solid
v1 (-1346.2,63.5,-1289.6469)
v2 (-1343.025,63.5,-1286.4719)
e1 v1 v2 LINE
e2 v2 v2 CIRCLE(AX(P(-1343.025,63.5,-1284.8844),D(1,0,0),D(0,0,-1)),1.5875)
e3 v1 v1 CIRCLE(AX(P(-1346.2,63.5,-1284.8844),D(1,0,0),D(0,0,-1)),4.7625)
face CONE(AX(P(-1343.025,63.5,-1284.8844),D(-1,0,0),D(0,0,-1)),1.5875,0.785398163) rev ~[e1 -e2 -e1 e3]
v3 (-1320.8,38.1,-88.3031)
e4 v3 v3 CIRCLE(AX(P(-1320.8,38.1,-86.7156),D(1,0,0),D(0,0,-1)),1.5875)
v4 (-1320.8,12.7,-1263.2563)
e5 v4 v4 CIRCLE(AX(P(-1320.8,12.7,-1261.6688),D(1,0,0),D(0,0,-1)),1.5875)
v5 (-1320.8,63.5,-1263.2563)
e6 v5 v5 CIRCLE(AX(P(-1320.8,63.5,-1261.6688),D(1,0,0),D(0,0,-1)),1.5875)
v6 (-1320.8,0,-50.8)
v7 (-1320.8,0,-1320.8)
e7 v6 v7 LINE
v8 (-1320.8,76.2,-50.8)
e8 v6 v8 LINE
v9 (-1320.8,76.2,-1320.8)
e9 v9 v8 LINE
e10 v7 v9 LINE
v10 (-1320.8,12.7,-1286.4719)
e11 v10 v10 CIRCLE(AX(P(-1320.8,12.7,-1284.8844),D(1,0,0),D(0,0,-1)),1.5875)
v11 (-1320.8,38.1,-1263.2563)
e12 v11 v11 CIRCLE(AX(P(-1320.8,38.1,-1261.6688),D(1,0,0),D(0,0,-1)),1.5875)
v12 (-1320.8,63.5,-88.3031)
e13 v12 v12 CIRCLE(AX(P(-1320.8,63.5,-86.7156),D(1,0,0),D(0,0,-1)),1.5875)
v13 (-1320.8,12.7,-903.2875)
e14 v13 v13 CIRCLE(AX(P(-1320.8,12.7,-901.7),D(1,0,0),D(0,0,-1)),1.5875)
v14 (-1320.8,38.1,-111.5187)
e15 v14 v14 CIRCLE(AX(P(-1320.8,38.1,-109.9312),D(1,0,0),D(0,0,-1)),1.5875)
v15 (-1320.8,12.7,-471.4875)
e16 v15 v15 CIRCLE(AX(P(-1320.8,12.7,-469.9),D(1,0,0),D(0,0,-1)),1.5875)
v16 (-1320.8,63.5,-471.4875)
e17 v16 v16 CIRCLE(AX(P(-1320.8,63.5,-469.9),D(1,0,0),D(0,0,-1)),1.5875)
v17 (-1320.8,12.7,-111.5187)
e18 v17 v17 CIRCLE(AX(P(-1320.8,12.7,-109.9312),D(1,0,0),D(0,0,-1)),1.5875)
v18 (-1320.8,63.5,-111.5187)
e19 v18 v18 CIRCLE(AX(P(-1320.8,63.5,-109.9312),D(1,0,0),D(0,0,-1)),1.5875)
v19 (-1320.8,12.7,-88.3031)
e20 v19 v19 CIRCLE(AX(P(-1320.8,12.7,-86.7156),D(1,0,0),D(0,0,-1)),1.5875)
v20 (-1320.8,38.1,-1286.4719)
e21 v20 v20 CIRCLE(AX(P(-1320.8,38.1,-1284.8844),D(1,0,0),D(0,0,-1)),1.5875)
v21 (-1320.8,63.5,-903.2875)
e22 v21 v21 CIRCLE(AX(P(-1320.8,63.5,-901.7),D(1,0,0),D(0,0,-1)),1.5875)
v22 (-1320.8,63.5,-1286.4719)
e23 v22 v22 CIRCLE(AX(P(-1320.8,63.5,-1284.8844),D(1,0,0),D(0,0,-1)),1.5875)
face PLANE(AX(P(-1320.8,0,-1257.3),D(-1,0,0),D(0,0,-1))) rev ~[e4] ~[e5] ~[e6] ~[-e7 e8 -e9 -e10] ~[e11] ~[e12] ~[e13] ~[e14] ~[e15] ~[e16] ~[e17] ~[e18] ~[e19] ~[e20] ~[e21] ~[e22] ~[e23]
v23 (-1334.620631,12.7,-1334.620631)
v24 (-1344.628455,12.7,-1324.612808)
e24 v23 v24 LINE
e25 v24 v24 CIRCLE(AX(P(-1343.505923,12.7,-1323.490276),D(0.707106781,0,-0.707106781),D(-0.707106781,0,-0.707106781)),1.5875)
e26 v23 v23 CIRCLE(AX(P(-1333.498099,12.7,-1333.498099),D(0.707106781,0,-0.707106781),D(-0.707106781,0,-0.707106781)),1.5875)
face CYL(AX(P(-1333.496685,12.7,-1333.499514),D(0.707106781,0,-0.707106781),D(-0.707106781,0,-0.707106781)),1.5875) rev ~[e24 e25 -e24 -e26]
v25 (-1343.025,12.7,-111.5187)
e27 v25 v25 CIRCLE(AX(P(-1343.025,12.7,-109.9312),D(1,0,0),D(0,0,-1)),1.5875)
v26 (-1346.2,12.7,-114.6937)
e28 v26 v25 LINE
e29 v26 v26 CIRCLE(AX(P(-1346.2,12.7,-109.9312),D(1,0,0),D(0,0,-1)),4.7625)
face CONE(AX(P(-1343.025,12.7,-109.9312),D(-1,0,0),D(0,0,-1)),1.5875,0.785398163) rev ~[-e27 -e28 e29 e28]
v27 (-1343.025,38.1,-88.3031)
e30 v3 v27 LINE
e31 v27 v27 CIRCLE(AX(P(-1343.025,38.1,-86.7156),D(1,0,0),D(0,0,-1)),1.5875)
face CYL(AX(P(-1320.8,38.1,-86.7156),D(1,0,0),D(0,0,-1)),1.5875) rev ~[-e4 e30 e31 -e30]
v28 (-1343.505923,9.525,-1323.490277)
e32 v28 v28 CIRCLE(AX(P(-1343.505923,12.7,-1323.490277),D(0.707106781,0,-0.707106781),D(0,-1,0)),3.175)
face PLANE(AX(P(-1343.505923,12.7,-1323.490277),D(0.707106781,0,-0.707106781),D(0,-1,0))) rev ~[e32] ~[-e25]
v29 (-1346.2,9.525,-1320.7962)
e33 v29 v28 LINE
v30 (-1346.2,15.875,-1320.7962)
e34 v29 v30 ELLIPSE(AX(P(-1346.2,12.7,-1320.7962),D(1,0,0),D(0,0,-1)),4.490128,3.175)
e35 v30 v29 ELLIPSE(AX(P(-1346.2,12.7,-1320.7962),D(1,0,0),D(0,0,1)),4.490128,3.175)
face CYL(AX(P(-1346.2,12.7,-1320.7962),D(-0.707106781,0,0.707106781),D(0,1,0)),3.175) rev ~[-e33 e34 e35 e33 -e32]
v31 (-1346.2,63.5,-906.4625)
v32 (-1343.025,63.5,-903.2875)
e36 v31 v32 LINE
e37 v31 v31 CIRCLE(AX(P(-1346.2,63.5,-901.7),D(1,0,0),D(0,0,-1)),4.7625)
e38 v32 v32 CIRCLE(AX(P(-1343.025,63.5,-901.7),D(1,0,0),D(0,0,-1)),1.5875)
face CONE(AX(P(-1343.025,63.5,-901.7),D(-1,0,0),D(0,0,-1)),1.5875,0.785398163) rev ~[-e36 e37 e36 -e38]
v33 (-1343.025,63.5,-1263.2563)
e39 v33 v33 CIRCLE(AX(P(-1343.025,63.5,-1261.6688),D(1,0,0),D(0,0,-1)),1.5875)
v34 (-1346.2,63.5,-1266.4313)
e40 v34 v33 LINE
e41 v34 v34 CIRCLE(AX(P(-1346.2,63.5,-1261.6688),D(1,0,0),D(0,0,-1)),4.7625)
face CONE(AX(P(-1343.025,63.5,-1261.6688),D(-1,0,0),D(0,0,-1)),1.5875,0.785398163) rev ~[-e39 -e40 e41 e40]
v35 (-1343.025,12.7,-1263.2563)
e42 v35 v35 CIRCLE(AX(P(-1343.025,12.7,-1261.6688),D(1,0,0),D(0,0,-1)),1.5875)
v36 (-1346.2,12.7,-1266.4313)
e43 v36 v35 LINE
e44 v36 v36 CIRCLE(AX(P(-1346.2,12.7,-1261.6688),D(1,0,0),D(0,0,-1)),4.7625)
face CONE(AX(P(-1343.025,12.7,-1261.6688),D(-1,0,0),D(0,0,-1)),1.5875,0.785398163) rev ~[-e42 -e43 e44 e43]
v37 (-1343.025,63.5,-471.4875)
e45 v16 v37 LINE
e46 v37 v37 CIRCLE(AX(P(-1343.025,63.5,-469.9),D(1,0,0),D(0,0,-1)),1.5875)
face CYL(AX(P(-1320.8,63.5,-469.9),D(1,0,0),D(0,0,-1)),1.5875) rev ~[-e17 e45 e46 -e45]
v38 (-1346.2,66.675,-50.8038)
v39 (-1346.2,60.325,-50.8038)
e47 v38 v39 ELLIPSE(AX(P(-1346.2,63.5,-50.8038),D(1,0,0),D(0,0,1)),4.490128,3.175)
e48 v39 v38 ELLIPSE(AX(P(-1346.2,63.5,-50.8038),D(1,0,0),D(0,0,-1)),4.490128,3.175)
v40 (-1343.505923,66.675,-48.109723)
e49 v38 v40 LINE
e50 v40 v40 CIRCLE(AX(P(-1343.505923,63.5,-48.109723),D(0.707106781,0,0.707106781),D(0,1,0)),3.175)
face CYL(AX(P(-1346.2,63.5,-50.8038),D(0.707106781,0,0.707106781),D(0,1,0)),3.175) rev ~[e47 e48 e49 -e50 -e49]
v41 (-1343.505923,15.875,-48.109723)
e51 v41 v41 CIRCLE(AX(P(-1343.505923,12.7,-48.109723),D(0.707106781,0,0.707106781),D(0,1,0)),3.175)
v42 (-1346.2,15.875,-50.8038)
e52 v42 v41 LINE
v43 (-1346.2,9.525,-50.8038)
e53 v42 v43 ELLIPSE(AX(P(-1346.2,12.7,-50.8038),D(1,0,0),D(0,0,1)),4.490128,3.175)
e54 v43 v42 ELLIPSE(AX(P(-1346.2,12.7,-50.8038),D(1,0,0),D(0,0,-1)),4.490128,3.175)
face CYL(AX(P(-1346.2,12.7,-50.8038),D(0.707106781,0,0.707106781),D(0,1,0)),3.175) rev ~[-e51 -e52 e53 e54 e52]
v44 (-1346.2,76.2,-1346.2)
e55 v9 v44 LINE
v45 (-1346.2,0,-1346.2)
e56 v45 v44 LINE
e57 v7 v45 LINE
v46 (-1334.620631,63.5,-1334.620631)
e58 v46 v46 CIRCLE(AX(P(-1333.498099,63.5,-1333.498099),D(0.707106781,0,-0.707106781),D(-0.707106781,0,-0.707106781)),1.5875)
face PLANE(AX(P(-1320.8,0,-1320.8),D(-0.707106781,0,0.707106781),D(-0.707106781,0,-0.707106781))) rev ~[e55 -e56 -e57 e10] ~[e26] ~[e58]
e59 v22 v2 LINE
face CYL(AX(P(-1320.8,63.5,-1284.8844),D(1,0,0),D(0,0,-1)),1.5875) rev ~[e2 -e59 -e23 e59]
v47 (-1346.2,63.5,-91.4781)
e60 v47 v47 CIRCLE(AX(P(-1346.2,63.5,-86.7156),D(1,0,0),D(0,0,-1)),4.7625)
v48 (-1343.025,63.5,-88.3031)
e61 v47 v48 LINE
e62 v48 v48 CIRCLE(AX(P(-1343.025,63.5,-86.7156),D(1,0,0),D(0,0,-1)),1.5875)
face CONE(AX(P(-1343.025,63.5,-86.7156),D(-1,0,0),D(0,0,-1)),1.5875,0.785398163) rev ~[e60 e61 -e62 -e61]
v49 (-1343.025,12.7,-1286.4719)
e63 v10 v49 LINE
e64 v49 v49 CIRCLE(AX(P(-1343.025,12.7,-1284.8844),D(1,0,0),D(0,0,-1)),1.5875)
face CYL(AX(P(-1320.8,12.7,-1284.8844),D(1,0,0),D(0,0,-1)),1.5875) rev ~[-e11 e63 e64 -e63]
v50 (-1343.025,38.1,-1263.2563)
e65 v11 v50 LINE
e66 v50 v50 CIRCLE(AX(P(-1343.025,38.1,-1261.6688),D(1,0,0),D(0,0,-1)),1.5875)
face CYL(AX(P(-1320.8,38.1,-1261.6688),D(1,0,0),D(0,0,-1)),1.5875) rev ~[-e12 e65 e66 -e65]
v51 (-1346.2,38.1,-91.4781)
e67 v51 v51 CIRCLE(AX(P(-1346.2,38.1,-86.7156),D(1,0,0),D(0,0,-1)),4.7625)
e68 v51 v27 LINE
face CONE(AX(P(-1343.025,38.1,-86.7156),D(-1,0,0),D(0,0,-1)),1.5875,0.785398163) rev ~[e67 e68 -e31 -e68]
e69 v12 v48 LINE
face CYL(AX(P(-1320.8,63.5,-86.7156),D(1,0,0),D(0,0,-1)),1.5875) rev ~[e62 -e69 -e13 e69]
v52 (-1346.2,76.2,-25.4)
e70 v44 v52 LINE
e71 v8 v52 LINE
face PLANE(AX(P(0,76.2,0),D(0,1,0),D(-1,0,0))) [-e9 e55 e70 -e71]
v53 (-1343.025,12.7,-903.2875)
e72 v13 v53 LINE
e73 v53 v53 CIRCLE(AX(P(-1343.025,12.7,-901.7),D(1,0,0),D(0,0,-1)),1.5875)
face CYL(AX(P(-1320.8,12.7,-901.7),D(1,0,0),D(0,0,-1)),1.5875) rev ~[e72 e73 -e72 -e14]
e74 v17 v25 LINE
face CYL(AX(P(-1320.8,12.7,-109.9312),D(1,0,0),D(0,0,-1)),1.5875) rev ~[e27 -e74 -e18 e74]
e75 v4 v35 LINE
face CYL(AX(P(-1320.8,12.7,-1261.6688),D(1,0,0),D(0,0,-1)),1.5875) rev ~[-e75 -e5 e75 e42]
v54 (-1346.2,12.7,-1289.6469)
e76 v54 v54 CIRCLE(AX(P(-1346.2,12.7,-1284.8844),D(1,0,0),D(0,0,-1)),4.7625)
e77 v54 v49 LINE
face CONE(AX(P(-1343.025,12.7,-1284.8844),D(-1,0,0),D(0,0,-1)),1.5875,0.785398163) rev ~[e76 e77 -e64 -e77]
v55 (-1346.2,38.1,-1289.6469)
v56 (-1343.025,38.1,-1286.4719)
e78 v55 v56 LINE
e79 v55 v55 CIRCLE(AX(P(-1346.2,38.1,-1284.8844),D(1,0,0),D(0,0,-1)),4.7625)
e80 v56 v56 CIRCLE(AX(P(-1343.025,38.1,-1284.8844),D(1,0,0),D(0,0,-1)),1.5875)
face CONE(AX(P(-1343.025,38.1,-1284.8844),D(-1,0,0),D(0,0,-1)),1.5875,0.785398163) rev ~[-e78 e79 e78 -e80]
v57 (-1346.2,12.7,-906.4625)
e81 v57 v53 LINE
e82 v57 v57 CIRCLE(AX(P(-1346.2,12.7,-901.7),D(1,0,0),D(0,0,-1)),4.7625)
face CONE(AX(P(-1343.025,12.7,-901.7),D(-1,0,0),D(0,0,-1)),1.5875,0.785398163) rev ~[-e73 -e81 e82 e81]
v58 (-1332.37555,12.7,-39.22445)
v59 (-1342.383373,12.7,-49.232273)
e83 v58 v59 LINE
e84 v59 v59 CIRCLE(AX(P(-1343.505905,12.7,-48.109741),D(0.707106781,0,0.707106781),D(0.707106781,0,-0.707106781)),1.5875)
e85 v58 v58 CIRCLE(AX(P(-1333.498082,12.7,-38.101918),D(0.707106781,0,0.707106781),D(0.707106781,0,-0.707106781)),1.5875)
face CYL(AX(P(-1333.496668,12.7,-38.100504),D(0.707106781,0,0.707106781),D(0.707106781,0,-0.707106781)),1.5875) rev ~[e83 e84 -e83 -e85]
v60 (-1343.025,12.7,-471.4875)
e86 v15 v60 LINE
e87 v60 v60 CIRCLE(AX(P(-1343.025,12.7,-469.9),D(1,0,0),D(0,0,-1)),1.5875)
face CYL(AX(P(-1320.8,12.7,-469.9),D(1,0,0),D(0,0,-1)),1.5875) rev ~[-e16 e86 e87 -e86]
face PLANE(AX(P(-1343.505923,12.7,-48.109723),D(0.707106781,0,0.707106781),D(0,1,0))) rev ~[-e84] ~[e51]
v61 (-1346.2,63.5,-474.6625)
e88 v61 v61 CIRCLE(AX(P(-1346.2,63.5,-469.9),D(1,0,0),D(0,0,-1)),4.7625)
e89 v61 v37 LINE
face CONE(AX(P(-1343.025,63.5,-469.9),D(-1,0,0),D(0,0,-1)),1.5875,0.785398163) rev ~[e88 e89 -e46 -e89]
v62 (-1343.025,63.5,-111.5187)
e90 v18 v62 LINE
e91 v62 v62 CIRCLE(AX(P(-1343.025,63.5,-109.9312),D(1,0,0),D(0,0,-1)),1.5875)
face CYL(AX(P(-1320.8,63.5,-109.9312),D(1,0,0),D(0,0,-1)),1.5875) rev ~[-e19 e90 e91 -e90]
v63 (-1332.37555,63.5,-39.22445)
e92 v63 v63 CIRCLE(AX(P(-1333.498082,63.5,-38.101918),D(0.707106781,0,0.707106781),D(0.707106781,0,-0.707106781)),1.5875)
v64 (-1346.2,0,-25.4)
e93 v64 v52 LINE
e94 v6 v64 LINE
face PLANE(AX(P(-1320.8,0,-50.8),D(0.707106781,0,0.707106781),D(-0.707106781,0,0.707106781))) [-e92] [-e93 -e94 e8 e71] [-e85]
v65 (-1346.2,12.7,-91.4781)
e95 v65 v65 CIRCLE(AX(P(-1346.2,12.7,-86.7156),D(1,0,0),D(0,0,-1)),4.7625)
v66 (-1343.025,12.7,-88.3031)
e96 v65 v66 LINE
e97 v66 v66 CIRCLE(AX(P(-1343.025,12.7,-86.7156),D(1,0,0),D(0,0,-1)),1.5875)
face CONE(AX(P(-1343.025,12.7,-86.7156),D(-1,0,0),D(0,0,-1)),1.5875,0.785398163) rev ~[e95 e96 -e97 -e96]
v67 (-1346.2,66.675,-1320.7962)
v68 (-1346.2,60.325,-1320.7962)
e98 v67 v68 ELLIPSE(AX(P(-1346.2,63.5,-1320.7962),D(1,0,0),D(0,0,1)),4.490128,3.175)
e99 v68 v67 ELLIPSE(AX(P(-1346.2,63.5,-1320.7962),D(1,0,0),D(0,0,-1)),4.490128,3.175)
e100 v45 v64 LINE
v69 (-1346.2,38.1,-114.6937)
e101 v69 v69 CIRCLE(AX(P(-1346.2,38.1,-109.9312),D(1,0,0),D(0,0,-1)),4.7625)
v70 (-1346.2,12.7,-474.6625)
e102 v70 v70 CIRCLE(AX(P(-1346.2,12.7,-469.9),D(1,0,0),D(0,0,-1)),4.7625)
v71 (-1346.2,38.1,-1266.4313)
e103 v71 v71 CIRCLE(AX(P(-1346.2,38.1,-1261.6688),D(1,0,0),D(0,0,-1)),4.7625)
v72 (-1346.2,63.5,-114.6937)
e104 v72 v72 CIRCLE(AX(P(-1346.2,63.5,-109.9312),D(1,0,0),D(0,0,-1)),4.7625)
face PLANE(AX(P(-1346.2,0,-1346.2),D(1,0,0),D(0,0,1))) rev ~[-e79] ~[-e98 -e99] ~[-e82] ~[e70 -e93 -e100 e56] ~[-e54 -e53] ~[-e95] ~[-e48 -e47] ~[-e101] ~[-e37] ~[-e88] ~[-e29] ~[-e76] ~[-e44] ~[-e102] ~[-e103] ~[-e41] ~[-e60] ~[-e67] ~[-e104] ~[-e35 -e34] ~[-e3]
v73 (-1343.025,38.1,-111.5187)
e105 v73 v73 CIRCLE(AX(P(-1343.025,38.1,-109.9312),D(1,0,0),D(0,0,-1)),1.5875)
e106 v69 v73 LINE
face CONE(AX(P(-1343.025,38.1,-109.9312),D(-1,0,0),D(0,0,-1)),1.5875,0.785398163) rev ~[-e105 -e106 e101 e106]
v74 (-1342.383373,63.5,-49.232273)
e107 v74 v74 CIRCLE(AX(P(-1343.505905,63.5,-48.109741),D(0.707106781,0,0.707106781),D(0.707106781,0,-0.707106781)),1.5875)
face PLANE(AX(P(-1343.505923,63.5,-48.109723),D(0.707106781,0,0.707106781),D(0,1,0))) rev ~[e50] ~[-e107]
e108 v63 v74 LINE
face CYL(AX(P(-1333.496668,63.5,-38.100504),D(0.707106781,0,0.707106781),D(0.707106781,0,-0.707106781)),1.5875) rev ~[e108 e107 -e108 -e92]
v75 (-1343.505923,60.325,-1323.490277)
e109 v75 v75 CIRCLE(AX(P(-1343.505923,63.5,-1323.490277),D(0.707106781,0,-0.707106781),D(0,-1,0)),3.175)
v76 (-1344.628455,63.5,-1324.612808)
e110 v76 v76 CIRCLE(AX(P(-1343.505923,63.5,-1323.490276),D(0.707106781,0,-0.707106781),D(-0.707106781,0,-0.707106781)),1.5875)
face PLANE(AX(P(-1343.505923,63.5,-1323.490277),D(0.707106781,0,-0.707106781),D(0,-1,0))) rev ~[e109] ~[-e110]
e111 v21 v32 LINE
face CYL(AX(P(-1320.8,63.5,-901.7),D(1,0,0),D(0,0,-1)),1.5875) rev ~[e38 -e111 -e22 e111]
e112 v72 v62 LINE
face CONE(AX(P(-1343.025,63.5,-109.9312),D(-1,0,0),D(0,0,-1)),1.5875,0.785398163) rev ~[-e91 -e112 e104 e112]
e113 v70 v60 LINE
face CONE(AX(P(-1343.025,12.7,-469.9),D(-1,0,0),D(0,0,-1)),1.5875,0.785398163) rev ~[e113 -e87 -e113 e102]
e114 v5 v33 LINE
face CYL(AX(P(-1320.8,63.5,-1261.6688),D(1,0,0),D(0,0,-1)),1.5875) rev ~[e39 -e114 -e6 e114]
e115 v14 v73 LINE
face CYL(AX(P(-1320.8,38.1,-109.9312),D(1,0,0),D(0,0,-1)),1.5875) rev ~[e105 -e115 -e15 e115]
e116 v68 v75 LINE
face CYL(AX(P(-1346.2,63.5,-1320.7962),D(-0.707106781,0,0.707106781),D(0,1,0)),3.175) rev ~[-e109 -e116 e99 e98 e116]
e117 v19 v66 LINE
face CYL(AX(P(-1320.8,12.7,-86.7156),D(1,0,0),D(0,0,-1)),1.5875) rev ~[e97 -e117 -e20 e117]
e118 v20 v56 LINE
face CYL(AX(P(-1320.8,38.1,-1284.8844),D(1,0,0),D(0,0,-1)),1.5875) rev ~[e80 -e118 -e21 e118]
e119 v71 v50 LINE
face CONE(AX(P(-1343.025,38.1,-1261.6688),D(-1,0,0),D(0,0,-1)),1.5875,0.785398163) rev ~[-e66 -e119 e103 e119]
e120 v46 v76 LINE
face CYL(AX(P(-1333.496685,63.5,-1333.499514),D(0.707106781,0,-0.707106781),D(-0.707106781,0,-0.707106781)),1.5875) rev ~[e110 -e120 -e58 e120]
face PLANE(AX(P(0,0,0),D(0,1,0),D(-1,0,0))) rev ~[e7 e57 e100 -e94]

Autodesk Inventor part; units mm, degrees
ref_plane "YZ Plane" through (0, 0, 0) normal (1, 0, 0) x (0, 1, 0)
ref_plane "XZ Plane" through (0, 0, 0) normal (0, 1, 0) x (-1, 0, 0)
ref_plane "XY Plane" through (0, 0, 0) normal (0, 0, 1) x (1, 0, 0)
sketch "Sketch1" plane through (0, 0, 0) normal (0, 1, 0) x (-1, 0, 0)
  line L0 (6.35, 0) -> (1365.25, 0)
  line L1 (1371.6, -6.35) -> (1371.6, -1365.25)
  line L2 (1365.25, -1371.6) -> (6.35, -1371.6)
  line L3 (0, -1365.25) -> (0, -6.35)
  line L4 (1346.2, -1346.2) -> (1346.2, -25.4)
  line L5 (1346.2, -25.4) -> (25.4, -25.4)
  line L6 (25.4, -25.4) -> (25.4, -1346.2)
  line L7 (25.4, -1346.2) -> (1346.2, -1346.2)
  line L8 (1320.8, -50.8) -> (1320.8, -1320.8)
  line L9 (1320.8, -1320.8) -> (50.8, -1320.8)
  line L10 (50.8, -1320.8) -> (50.8, -50.8)
  line L11 (50.8, -50.8) -> (1320.8, -50.8)
  line L12 (1320.8, -50.8) -> (1346.2, -25.4)
  line L13 (1320.8, -1320.8) -> (1346.2, -1346.2)
  line L14 (50.8, -1320.8) -> (25.4, -1346.2)
  line L15 (50.8, -50.8) -> (25.4, -25.4)
  line L16 (1219.2, -482.6) -> (1016, -482.6)
  line L17 (1016, -482.6) -> (1016, -889)
  line L18 (1016, -889) -> (1219.2, -889)
  line L19 (1219.2, -889) -> (1219.2, -482.6)
  line L20 (355.6, -482.6) -> (152.4, -482.6)
  line L21 (152.4, -482.6) -> (152.4, -889)
  line L22 (152.4, -889) -> (355.6, -889)
  line L23 (355.6, -889) -> (355.6, -482.6)
  line L24 (889, -1016) -> (482.6, -1016)
  line L25 (482.6, -1016) -> (482.6, -1219.2)
  line L26 (482.6, -1219.2) -> (889, -1219.2)
  line L27 (889, -1219.2) -> (889, -1016)
  line L28 (889, -152.4) -> (482.6, -152.4)
  line L29 (482.6, -152.4) -> (482.6, -355.6)
  line L30 (482.6, -355.6) -> (889, -355.6)
  line L31 (889, -355.6) -> (889, -152.4)
  circle A0 centre (685.8, -685.8) radius 254
  line L32 (889, -127) -> (482.6, -127)
  line L33 (457.2, -127) -> (457.2, -381)
  line L34 (457.2, -381) -> (914.4, -381)
  line L35 (914.4, -381) -> (914.4, -127)
  line L36 (1244.6, -457.2) -> (990.6, -457.2)
  line L37 (990.6, -457.2) -> (990.6, -914.4)
  line L38 (990.6, -914.4) -> (1244.6, -914.4)
  line L39 (1244.6, -889) -> (1244.6, -482.6)
  line L40 (914.4, -990.6) -> (457.2, -990.6)
  line L41 (457.2, -990.6) -> (457.2, -1244.6)
  line L42 (482.6, -1244.6) -> (889, -1244.6)
  line L43 (914.4, -1244.6) -> (914.4, -990.6)
  line L44 (381, -457.2) -> (127, -457.2)
  line L45 (127, -482.6) -> (127, -889)
  line L46 (127, -914.4) -> (381, -914.4)
  line L47 (381, -914.4) -> (381, -457.2)
  line L48 (152.4, -482.6) -> (50.8, -482.6)
  line L49 (127, -457.2) -> (50.8, -457.2)
  line L50 (152.4, -889) -> (50.8, -889)
  line L51 (127, -914.4) -> (50.8, -914.4)
  line L52 (355.6, -889) -> (381, -889)
  line L53 (355.6, -482.6) -> (381, -482.6)
  line L54 (457.2, -1244.6) -> (457.2, -1320.8)
  line L55 (482.6, -1219.2) -> (482.6, -1320.8)
  line L56 (889, -1219.2) -> (889, -1320.8)
  line L57 (914.4, -1244.6) -> (914.4, -1320.8)
  line L58 (1244.6, -914.4) -> (1320.8, -914.4)
  line L59 (1219.2, -889) -> (1320.8, -889)
  line L60 (1219.2, -482.6) -> (1320.8, -482.6)
  line L61 (1244.6, -457.2) -> (1320.8, -457.2)
  line L62 (889, -152.4) -> (889, -50.8)
  line L63 (914.4, -127) -> (914.4, -50.8)
  line L64 (482.6, -152.4) -> (482.6, -50.8)
  line L65 (457.2, -127) -> (457.2, -50.8)
  line L66 (889, -1016) -> (889, -990.6)
  line L67 (482.6, -1016) -> (482.6, -990.6)
  line L68 (1016, -889) -> (990.6, -889)
  line L69 (1016, -482.6) -> (990.6, -482.6)
  line L70 (889, -355.6) -> (889, -381)
  line L71 (482.6, -355.6) -> (482.6, -381)
  line L72 (914.4, -381) -> (990.6, -457.2)
  line L73 (990.6, -482.6) -> (889, -381)
  line L74 (990.6, -914.4) -> (914.4, -990.6)
  line L75 (889, -990.6) -> (990.6, -889)
  line L76 (381, -914.4) -> (457.2, -990.6)
  line L77 (482.6, -990.6) -> (381, -889)
  line L78 (457.2, -381) -> (381, -457.2)
  line L79 (482.6, -381) -> (381, -482.6)
  line L80 (1257.3, -50.8) -> (1320.8, -114.3)
  line L81 (1320.8, -1257.3) -> (1257.3, -1320.8)
  line L82 (50.8, -1257.3) -> (114.3, -1320.8)
  line L83 (50.8, -114.3) -> (114.3, -50.8)
  line L84 (68.7605, -132.2605) -> (132.2605, -68.7605)
  line L85 (68.7605, -1239.3395) -> (132.2605, -1302.8395)
  line L86 (1302.8395, -1239.3395) -> (1239.3395, -1302.8395)
  line L87 (1239.3395, -68.7605) -> (1302.8395, -132.2605)
  line L88 (1302.8395, -132.2605) -> (1320.8, -150.221)
  line L89 (1239.3395, -68.7605) -> (1221.379, -50.8)
  line L90 (1302.8395, -1239.3395) -> (1320.8, -1221.379)
  line L91 (1239.3395, -1302.8395) -> (1221.379, -1320.8)
  line L92 (132.2605, -1302.8395) -> (150.221, -1320.8)
  line L93 (68.7605, -1239.3395) -> (50.8, -1221.379)
  line L94 (132.2605, -68.7605) -> (150.221, -50.8)
  line L95 (68.7605, -132.2605) -> (50.8, -150.221)
  line L96 (1365.25, 0) -> (1371.6, -6.35)
  line L97 (1371.6, -1365.25) -> (1365.25, -1371.6)
  line L98 (6.35, -1371.6) -> (0, -1365.25)
  line L99 (6.35, 0) -> (0, -6.35)
  point P0 (0, 0)
  point P1 (1371.6, -1371.6)
  point P2 (1371.6, 0)
  point P3 (0, -1371.6)
  dimension "d0" = 1371.6
  dimension "d1" = 1371.6
  dimension "d2" = 25.4
  dimension "d3" = 25.4
  dimension "d4" = 203.2
  dimension "d5" = 406.4
  dimension "d6" = 203.2
  dimension "d7" = 406.4
  dimension "d8" = 406.4
  dimension "d9" = 203.2
  dimension "d10" = 406.4
  dimension "d11" = 203.2
  dimension "d12" = 101.6
  dimension "d13" = 101.6
  dimension "d14" = 101.6
  dimension "d15" = 101.6
  dimension "d16" = 431.8
  dimension "d17" = 431.8
  dimension "d18" = 431.8
  dimension "d19" = 431.8
  dimension "d20" = 508
  dimension "d21" = 25.4
  dimension "d22" = 25.4
  dimension "d23" = 25.4
  dimension "d24" = 25.4
  dimension "d25" = 45
  dimension "d26" = 63.5
  dimension "d27" = 45
  dimension "d28" = 45
  dimension "d29" = 45
  dimension "d30" = 25.4
  dimension "d31" = 25.4
  dimension "d32" = 25.4
  dimension "d33" = 25.4
  dimension "d34" = 6.35
  dimension "d35" = 6.35
  dimension "d36" = 6.35
  dimension "d37" = 6.35
  dimension "d38" = 6.35
  dimension "d39" = 6.35
  dimension "d40" = 6.35
  dimension "d41" = 6.35
extrude "Extrusion1" add sketch "Sketch1" along normal blind 76.2 contours L13 L8 L12 L4
sketch "Sketch2" plane through (-1320.8, 0, -50.8) normal (0.7071, 0, 0.7071) x (0.7071, 0, -0.7071)
  point P0 (898.0256, 0)
sketch "Sketch3" plane through (-1320.8, 0, -50.8) normal (0.7071, 0, 0.7071) x (0.7071, 0, -0.7071)
  circle A0 centre (-17.9578, 63.5) radius 1.5875
  circle A1 centre (-17.9578, 12.7) radius 1.5875
  line L0 (0, 0) -> (0, 76.2) projected
  line L1 (-35.921, 76.2) -> (0, 76.2) projected
  line L2 (-35.921, 0) -> (0, 0) projected
  point P0 (898.0256, 0)
  dimension "d44" = 3.175
  dimension "d45" = 3.175
  dimension "d46" = 17.9578
  dimension "d47" = 17.9578
  dimension "d48" = 12.7
  dimension "d49" = 12.7
extrude "Extrusion2" cut sketch "Sketch3" against normal blind 76.2
sketch "Sketch4" plane through (-1346.2, 0, -1346.2) normal (0.7071, 0, -0.7071) x (-0.7071, 0, -0.7071)
  circle A0 centre (-17.9632, 63.5) radius 1.5875
  circle A1 centre (-17.9632, 12.7) radius 1.5875
  line L0 (-35.921, 0) -> (-35.921, 76.2) projected
  line L1 (-35.921, 0) -> (0, 0) projected
  line L2 (-35.921, 76.2) -> (0, 76.2) projected
  point P0 (-1903.8143, 0)
  dimension "d52" = 3.175
  dimension "d53" = 3.175
  dimension "d54" = 17.9578
  dimension "d55" = 17.9578
  dimension "d56" = 12.7
  dimension "d57" = 12.7
extrude "Extrusion3" cut sketch "Sketch4" against normal blind 76.2
hole "Hole1" at (-1346.2, 12.7, -50.8038) direction (-0.7071, 0, -0.7071) diameter 6.35 depth 3.81
hole "Hole2" at (-1346.2, 63.5, -50.8038) direction (-0.7071, 0, -0.7071) diameter 6.35 depth 3.81
hole "Hole3" at (-1346.2, 63.5, -1320.7962) direction (-0.7071, 0, 0.7071) diameter 6.35 depth 3.81
hole "Hole4" at (-1346.2, 12.7, -1320.7962) direction (-0.7071, 0, 0.7071) diameter 6.35 depth 3.81
hole "Hole5" at (-1346.2, 12.7, -1320.7962) direction (0.7071, 0, -0.7071) diameter 6.35 depth 3.81
hole "Hole6" at (-1346.2, 63.5, -1320.7962) direction (0.7071, 0, -0.7071) diameter 6.35 depth 3.81
hole "Hole7" at (-1346.2, 12.7, -50.8038) direction (0.7071, 0, 0.7071) diameter 6.35 depth 3.81
hole "Hole8" at (-1346.2, 63.5, -50.8038) direction (0.7071, 0, 0.7071) diameter 6.35 depth 3.81
sketch "Sketch5" plane through (-1320.8, 0, -50.8) normal (1, 0, 0) x (0, 0, -1)
  line L0 (406.4, 0) -> (406.4, 76.2)
  line L1 (0, 76.2) -> (1270, 76.2) projected
  line L2 (431.8, 0) -> (431.8, 76.2)
  line L3 (431.8, 76.2) -> (406.4, 76.2)
  circle A0 centre (419.1, 63.5) radius 1.5875
  circle A1 centre (419.1, 12.7) radius 1.5875
  line L4 (0, 0) -> (1270, 0) projected
  line L5 (838.2, 0) -> (838.2, 76.2)
  line L6 (863.6, 0) -> (863.6, 76.2)
  line L7 (838.2, 76.2) -> (863.6, 76.2)
  circle A2 centre (850.9, 63.5) radius 1.5875
  circle A3 centre (850.9, 12.7) radius 1.5875
  point P0 (-50.8, 0)
  point P1 (431.8, 0)
  dimension "d132" = 3.175
  dimension "d133" = 3.175
  dimension "d134" = 12.7
  dimension "d135" = 12.7
  dimension "d136" = 12.7
  dimension "d137" = 12.7
  dimension "d138" = 3.175
  dimension "d139" = 3.175
  dimension "d140" = 12.7
  dimension "d141" = 12.7
  dimension "d142" = 12.7
  dimension "d143" = 12.7
extrude "Extrusion4" cut sketch "Sketch5" against normal blind 76.2 contours A0 | A1 | A2 | A3
chamfer "Chamfer1" distance 3.175 angle 45 4 edges at (-1346.2, 12.7, -468.3125) (-1346.2, 63.5, -468.3125) (-1346.2, 12.7, -900.1125) (-1346.2, 63.5, -900.1125)
sketch "Sketch6" plane through (-1320.8, 0, -50.8) normal (1, 0, 0) x (0, 0, -1)
  circle A0 centre (35.9156, 63.5) radius 1.5875
  circle A1 centre (59.1312, 63.5) radius 1.5875
  circle A2 centre (35.9156, 38.1) radius 1.5875
  circle A3 centre (59.1312, 38.1) radius 1.5875
  circle A4 centre (35.9156, 12.7) radius 1.5875
  circle A5 centre (59.1312, 12.7) radius 1.5875
  line L0 (0, 76.2) -> (1270, 76.2) projected
  line L1 (0, 0) -> (1270, 0) projected
  line L2 (0, 0) -> (0, 76.2) projected
  line L3 (635, 354.9927) -> (635, -254.0092)
  line L4 (-25.4, 0) -> (-25.4, 76.2) projected
  circle A6 centre (1234.0844, 63.5) radius 1.5875
  circle A7 centre (1210.8688, 63.5) radius 1.5875
  circle A8 centre (1234.0844, 38.1) radius 1.5875
  circle A9 centre (1210.8688, 38.1) radius 1.5875
  circle A10 centre (1234.0844, 12.7) radius 1.5875
  circle A11 centre (1210.8688, 12.7) radius 1.5875
  line L5 (1270, 0) -> (1270, 76.2)
  line L6 (1295.4, 0) -> (1295.4, 76.2)
  point P0 (-50.8, 0)
  point P1 (1320.8, 0)
  dimension "d149" = 3.175
  dimension "d150" = 3.175
  dimension "d151" = 3.175
  dimension "d152" = 3.175
  dimension "d153" = 3.175
  dimension "d154" = 3.175
  dimension "d155" = 12.7
  dimension "d156" = 12.7
  dimension "d157" = 38.1
  dimension "d158" = 38.1
  dimension "d159" = 12.7
  dimension "d160" = 12.7
  dimension "d161" = 35.9156
  dimension "d162" = 35.9156
  dimension "d163" = 35.9156
  dimension "d164" = 23.2156
  dimension "d165" = 23.2156
  dimension "d166" = 23.2156
  dimension "d172" = 660.4
extrude "Extrusion5" cut sketch "Sketch6" against normal blind 76.2 contours A0 | A1 | A2 | A3 | A4 | A5 | A6 | A7 | A8 | A9 | A10 | A11
chamfer "Chamfer2" distance 3.175 angle 45 12 edges at (-1346.2, 12.7, -85.1281) (-1346.2, 12.7, -108.3437) (-1346.2, 38.1, -85.1281) (-1346.2, 63.5, -85.1281) (-1346.2, 38.1, -108.3437) (-1346.2, 63.5, -108.3437) (-1346.2, 63.5, -1283.2969) (-1346.2, 63.5, -1260.0813) (-1346.2, 38.1, -1283.2969) (-1346.2, 38.1, -1260.0813) (-1346.2, 12.7, -1283.2969) (-1346.2, 12.7, -1260.0813)
equation "\"d35\" = d34"
equation "\"d36\" = d34"
equation "\"d37\" = d36"
equation "\"d38\" = d34"
equation "\"d39\" = d38"
equation "\"d40\" = d34"
equation "\"d41\" = d40"
properties part number "Main frame Piece X4"
